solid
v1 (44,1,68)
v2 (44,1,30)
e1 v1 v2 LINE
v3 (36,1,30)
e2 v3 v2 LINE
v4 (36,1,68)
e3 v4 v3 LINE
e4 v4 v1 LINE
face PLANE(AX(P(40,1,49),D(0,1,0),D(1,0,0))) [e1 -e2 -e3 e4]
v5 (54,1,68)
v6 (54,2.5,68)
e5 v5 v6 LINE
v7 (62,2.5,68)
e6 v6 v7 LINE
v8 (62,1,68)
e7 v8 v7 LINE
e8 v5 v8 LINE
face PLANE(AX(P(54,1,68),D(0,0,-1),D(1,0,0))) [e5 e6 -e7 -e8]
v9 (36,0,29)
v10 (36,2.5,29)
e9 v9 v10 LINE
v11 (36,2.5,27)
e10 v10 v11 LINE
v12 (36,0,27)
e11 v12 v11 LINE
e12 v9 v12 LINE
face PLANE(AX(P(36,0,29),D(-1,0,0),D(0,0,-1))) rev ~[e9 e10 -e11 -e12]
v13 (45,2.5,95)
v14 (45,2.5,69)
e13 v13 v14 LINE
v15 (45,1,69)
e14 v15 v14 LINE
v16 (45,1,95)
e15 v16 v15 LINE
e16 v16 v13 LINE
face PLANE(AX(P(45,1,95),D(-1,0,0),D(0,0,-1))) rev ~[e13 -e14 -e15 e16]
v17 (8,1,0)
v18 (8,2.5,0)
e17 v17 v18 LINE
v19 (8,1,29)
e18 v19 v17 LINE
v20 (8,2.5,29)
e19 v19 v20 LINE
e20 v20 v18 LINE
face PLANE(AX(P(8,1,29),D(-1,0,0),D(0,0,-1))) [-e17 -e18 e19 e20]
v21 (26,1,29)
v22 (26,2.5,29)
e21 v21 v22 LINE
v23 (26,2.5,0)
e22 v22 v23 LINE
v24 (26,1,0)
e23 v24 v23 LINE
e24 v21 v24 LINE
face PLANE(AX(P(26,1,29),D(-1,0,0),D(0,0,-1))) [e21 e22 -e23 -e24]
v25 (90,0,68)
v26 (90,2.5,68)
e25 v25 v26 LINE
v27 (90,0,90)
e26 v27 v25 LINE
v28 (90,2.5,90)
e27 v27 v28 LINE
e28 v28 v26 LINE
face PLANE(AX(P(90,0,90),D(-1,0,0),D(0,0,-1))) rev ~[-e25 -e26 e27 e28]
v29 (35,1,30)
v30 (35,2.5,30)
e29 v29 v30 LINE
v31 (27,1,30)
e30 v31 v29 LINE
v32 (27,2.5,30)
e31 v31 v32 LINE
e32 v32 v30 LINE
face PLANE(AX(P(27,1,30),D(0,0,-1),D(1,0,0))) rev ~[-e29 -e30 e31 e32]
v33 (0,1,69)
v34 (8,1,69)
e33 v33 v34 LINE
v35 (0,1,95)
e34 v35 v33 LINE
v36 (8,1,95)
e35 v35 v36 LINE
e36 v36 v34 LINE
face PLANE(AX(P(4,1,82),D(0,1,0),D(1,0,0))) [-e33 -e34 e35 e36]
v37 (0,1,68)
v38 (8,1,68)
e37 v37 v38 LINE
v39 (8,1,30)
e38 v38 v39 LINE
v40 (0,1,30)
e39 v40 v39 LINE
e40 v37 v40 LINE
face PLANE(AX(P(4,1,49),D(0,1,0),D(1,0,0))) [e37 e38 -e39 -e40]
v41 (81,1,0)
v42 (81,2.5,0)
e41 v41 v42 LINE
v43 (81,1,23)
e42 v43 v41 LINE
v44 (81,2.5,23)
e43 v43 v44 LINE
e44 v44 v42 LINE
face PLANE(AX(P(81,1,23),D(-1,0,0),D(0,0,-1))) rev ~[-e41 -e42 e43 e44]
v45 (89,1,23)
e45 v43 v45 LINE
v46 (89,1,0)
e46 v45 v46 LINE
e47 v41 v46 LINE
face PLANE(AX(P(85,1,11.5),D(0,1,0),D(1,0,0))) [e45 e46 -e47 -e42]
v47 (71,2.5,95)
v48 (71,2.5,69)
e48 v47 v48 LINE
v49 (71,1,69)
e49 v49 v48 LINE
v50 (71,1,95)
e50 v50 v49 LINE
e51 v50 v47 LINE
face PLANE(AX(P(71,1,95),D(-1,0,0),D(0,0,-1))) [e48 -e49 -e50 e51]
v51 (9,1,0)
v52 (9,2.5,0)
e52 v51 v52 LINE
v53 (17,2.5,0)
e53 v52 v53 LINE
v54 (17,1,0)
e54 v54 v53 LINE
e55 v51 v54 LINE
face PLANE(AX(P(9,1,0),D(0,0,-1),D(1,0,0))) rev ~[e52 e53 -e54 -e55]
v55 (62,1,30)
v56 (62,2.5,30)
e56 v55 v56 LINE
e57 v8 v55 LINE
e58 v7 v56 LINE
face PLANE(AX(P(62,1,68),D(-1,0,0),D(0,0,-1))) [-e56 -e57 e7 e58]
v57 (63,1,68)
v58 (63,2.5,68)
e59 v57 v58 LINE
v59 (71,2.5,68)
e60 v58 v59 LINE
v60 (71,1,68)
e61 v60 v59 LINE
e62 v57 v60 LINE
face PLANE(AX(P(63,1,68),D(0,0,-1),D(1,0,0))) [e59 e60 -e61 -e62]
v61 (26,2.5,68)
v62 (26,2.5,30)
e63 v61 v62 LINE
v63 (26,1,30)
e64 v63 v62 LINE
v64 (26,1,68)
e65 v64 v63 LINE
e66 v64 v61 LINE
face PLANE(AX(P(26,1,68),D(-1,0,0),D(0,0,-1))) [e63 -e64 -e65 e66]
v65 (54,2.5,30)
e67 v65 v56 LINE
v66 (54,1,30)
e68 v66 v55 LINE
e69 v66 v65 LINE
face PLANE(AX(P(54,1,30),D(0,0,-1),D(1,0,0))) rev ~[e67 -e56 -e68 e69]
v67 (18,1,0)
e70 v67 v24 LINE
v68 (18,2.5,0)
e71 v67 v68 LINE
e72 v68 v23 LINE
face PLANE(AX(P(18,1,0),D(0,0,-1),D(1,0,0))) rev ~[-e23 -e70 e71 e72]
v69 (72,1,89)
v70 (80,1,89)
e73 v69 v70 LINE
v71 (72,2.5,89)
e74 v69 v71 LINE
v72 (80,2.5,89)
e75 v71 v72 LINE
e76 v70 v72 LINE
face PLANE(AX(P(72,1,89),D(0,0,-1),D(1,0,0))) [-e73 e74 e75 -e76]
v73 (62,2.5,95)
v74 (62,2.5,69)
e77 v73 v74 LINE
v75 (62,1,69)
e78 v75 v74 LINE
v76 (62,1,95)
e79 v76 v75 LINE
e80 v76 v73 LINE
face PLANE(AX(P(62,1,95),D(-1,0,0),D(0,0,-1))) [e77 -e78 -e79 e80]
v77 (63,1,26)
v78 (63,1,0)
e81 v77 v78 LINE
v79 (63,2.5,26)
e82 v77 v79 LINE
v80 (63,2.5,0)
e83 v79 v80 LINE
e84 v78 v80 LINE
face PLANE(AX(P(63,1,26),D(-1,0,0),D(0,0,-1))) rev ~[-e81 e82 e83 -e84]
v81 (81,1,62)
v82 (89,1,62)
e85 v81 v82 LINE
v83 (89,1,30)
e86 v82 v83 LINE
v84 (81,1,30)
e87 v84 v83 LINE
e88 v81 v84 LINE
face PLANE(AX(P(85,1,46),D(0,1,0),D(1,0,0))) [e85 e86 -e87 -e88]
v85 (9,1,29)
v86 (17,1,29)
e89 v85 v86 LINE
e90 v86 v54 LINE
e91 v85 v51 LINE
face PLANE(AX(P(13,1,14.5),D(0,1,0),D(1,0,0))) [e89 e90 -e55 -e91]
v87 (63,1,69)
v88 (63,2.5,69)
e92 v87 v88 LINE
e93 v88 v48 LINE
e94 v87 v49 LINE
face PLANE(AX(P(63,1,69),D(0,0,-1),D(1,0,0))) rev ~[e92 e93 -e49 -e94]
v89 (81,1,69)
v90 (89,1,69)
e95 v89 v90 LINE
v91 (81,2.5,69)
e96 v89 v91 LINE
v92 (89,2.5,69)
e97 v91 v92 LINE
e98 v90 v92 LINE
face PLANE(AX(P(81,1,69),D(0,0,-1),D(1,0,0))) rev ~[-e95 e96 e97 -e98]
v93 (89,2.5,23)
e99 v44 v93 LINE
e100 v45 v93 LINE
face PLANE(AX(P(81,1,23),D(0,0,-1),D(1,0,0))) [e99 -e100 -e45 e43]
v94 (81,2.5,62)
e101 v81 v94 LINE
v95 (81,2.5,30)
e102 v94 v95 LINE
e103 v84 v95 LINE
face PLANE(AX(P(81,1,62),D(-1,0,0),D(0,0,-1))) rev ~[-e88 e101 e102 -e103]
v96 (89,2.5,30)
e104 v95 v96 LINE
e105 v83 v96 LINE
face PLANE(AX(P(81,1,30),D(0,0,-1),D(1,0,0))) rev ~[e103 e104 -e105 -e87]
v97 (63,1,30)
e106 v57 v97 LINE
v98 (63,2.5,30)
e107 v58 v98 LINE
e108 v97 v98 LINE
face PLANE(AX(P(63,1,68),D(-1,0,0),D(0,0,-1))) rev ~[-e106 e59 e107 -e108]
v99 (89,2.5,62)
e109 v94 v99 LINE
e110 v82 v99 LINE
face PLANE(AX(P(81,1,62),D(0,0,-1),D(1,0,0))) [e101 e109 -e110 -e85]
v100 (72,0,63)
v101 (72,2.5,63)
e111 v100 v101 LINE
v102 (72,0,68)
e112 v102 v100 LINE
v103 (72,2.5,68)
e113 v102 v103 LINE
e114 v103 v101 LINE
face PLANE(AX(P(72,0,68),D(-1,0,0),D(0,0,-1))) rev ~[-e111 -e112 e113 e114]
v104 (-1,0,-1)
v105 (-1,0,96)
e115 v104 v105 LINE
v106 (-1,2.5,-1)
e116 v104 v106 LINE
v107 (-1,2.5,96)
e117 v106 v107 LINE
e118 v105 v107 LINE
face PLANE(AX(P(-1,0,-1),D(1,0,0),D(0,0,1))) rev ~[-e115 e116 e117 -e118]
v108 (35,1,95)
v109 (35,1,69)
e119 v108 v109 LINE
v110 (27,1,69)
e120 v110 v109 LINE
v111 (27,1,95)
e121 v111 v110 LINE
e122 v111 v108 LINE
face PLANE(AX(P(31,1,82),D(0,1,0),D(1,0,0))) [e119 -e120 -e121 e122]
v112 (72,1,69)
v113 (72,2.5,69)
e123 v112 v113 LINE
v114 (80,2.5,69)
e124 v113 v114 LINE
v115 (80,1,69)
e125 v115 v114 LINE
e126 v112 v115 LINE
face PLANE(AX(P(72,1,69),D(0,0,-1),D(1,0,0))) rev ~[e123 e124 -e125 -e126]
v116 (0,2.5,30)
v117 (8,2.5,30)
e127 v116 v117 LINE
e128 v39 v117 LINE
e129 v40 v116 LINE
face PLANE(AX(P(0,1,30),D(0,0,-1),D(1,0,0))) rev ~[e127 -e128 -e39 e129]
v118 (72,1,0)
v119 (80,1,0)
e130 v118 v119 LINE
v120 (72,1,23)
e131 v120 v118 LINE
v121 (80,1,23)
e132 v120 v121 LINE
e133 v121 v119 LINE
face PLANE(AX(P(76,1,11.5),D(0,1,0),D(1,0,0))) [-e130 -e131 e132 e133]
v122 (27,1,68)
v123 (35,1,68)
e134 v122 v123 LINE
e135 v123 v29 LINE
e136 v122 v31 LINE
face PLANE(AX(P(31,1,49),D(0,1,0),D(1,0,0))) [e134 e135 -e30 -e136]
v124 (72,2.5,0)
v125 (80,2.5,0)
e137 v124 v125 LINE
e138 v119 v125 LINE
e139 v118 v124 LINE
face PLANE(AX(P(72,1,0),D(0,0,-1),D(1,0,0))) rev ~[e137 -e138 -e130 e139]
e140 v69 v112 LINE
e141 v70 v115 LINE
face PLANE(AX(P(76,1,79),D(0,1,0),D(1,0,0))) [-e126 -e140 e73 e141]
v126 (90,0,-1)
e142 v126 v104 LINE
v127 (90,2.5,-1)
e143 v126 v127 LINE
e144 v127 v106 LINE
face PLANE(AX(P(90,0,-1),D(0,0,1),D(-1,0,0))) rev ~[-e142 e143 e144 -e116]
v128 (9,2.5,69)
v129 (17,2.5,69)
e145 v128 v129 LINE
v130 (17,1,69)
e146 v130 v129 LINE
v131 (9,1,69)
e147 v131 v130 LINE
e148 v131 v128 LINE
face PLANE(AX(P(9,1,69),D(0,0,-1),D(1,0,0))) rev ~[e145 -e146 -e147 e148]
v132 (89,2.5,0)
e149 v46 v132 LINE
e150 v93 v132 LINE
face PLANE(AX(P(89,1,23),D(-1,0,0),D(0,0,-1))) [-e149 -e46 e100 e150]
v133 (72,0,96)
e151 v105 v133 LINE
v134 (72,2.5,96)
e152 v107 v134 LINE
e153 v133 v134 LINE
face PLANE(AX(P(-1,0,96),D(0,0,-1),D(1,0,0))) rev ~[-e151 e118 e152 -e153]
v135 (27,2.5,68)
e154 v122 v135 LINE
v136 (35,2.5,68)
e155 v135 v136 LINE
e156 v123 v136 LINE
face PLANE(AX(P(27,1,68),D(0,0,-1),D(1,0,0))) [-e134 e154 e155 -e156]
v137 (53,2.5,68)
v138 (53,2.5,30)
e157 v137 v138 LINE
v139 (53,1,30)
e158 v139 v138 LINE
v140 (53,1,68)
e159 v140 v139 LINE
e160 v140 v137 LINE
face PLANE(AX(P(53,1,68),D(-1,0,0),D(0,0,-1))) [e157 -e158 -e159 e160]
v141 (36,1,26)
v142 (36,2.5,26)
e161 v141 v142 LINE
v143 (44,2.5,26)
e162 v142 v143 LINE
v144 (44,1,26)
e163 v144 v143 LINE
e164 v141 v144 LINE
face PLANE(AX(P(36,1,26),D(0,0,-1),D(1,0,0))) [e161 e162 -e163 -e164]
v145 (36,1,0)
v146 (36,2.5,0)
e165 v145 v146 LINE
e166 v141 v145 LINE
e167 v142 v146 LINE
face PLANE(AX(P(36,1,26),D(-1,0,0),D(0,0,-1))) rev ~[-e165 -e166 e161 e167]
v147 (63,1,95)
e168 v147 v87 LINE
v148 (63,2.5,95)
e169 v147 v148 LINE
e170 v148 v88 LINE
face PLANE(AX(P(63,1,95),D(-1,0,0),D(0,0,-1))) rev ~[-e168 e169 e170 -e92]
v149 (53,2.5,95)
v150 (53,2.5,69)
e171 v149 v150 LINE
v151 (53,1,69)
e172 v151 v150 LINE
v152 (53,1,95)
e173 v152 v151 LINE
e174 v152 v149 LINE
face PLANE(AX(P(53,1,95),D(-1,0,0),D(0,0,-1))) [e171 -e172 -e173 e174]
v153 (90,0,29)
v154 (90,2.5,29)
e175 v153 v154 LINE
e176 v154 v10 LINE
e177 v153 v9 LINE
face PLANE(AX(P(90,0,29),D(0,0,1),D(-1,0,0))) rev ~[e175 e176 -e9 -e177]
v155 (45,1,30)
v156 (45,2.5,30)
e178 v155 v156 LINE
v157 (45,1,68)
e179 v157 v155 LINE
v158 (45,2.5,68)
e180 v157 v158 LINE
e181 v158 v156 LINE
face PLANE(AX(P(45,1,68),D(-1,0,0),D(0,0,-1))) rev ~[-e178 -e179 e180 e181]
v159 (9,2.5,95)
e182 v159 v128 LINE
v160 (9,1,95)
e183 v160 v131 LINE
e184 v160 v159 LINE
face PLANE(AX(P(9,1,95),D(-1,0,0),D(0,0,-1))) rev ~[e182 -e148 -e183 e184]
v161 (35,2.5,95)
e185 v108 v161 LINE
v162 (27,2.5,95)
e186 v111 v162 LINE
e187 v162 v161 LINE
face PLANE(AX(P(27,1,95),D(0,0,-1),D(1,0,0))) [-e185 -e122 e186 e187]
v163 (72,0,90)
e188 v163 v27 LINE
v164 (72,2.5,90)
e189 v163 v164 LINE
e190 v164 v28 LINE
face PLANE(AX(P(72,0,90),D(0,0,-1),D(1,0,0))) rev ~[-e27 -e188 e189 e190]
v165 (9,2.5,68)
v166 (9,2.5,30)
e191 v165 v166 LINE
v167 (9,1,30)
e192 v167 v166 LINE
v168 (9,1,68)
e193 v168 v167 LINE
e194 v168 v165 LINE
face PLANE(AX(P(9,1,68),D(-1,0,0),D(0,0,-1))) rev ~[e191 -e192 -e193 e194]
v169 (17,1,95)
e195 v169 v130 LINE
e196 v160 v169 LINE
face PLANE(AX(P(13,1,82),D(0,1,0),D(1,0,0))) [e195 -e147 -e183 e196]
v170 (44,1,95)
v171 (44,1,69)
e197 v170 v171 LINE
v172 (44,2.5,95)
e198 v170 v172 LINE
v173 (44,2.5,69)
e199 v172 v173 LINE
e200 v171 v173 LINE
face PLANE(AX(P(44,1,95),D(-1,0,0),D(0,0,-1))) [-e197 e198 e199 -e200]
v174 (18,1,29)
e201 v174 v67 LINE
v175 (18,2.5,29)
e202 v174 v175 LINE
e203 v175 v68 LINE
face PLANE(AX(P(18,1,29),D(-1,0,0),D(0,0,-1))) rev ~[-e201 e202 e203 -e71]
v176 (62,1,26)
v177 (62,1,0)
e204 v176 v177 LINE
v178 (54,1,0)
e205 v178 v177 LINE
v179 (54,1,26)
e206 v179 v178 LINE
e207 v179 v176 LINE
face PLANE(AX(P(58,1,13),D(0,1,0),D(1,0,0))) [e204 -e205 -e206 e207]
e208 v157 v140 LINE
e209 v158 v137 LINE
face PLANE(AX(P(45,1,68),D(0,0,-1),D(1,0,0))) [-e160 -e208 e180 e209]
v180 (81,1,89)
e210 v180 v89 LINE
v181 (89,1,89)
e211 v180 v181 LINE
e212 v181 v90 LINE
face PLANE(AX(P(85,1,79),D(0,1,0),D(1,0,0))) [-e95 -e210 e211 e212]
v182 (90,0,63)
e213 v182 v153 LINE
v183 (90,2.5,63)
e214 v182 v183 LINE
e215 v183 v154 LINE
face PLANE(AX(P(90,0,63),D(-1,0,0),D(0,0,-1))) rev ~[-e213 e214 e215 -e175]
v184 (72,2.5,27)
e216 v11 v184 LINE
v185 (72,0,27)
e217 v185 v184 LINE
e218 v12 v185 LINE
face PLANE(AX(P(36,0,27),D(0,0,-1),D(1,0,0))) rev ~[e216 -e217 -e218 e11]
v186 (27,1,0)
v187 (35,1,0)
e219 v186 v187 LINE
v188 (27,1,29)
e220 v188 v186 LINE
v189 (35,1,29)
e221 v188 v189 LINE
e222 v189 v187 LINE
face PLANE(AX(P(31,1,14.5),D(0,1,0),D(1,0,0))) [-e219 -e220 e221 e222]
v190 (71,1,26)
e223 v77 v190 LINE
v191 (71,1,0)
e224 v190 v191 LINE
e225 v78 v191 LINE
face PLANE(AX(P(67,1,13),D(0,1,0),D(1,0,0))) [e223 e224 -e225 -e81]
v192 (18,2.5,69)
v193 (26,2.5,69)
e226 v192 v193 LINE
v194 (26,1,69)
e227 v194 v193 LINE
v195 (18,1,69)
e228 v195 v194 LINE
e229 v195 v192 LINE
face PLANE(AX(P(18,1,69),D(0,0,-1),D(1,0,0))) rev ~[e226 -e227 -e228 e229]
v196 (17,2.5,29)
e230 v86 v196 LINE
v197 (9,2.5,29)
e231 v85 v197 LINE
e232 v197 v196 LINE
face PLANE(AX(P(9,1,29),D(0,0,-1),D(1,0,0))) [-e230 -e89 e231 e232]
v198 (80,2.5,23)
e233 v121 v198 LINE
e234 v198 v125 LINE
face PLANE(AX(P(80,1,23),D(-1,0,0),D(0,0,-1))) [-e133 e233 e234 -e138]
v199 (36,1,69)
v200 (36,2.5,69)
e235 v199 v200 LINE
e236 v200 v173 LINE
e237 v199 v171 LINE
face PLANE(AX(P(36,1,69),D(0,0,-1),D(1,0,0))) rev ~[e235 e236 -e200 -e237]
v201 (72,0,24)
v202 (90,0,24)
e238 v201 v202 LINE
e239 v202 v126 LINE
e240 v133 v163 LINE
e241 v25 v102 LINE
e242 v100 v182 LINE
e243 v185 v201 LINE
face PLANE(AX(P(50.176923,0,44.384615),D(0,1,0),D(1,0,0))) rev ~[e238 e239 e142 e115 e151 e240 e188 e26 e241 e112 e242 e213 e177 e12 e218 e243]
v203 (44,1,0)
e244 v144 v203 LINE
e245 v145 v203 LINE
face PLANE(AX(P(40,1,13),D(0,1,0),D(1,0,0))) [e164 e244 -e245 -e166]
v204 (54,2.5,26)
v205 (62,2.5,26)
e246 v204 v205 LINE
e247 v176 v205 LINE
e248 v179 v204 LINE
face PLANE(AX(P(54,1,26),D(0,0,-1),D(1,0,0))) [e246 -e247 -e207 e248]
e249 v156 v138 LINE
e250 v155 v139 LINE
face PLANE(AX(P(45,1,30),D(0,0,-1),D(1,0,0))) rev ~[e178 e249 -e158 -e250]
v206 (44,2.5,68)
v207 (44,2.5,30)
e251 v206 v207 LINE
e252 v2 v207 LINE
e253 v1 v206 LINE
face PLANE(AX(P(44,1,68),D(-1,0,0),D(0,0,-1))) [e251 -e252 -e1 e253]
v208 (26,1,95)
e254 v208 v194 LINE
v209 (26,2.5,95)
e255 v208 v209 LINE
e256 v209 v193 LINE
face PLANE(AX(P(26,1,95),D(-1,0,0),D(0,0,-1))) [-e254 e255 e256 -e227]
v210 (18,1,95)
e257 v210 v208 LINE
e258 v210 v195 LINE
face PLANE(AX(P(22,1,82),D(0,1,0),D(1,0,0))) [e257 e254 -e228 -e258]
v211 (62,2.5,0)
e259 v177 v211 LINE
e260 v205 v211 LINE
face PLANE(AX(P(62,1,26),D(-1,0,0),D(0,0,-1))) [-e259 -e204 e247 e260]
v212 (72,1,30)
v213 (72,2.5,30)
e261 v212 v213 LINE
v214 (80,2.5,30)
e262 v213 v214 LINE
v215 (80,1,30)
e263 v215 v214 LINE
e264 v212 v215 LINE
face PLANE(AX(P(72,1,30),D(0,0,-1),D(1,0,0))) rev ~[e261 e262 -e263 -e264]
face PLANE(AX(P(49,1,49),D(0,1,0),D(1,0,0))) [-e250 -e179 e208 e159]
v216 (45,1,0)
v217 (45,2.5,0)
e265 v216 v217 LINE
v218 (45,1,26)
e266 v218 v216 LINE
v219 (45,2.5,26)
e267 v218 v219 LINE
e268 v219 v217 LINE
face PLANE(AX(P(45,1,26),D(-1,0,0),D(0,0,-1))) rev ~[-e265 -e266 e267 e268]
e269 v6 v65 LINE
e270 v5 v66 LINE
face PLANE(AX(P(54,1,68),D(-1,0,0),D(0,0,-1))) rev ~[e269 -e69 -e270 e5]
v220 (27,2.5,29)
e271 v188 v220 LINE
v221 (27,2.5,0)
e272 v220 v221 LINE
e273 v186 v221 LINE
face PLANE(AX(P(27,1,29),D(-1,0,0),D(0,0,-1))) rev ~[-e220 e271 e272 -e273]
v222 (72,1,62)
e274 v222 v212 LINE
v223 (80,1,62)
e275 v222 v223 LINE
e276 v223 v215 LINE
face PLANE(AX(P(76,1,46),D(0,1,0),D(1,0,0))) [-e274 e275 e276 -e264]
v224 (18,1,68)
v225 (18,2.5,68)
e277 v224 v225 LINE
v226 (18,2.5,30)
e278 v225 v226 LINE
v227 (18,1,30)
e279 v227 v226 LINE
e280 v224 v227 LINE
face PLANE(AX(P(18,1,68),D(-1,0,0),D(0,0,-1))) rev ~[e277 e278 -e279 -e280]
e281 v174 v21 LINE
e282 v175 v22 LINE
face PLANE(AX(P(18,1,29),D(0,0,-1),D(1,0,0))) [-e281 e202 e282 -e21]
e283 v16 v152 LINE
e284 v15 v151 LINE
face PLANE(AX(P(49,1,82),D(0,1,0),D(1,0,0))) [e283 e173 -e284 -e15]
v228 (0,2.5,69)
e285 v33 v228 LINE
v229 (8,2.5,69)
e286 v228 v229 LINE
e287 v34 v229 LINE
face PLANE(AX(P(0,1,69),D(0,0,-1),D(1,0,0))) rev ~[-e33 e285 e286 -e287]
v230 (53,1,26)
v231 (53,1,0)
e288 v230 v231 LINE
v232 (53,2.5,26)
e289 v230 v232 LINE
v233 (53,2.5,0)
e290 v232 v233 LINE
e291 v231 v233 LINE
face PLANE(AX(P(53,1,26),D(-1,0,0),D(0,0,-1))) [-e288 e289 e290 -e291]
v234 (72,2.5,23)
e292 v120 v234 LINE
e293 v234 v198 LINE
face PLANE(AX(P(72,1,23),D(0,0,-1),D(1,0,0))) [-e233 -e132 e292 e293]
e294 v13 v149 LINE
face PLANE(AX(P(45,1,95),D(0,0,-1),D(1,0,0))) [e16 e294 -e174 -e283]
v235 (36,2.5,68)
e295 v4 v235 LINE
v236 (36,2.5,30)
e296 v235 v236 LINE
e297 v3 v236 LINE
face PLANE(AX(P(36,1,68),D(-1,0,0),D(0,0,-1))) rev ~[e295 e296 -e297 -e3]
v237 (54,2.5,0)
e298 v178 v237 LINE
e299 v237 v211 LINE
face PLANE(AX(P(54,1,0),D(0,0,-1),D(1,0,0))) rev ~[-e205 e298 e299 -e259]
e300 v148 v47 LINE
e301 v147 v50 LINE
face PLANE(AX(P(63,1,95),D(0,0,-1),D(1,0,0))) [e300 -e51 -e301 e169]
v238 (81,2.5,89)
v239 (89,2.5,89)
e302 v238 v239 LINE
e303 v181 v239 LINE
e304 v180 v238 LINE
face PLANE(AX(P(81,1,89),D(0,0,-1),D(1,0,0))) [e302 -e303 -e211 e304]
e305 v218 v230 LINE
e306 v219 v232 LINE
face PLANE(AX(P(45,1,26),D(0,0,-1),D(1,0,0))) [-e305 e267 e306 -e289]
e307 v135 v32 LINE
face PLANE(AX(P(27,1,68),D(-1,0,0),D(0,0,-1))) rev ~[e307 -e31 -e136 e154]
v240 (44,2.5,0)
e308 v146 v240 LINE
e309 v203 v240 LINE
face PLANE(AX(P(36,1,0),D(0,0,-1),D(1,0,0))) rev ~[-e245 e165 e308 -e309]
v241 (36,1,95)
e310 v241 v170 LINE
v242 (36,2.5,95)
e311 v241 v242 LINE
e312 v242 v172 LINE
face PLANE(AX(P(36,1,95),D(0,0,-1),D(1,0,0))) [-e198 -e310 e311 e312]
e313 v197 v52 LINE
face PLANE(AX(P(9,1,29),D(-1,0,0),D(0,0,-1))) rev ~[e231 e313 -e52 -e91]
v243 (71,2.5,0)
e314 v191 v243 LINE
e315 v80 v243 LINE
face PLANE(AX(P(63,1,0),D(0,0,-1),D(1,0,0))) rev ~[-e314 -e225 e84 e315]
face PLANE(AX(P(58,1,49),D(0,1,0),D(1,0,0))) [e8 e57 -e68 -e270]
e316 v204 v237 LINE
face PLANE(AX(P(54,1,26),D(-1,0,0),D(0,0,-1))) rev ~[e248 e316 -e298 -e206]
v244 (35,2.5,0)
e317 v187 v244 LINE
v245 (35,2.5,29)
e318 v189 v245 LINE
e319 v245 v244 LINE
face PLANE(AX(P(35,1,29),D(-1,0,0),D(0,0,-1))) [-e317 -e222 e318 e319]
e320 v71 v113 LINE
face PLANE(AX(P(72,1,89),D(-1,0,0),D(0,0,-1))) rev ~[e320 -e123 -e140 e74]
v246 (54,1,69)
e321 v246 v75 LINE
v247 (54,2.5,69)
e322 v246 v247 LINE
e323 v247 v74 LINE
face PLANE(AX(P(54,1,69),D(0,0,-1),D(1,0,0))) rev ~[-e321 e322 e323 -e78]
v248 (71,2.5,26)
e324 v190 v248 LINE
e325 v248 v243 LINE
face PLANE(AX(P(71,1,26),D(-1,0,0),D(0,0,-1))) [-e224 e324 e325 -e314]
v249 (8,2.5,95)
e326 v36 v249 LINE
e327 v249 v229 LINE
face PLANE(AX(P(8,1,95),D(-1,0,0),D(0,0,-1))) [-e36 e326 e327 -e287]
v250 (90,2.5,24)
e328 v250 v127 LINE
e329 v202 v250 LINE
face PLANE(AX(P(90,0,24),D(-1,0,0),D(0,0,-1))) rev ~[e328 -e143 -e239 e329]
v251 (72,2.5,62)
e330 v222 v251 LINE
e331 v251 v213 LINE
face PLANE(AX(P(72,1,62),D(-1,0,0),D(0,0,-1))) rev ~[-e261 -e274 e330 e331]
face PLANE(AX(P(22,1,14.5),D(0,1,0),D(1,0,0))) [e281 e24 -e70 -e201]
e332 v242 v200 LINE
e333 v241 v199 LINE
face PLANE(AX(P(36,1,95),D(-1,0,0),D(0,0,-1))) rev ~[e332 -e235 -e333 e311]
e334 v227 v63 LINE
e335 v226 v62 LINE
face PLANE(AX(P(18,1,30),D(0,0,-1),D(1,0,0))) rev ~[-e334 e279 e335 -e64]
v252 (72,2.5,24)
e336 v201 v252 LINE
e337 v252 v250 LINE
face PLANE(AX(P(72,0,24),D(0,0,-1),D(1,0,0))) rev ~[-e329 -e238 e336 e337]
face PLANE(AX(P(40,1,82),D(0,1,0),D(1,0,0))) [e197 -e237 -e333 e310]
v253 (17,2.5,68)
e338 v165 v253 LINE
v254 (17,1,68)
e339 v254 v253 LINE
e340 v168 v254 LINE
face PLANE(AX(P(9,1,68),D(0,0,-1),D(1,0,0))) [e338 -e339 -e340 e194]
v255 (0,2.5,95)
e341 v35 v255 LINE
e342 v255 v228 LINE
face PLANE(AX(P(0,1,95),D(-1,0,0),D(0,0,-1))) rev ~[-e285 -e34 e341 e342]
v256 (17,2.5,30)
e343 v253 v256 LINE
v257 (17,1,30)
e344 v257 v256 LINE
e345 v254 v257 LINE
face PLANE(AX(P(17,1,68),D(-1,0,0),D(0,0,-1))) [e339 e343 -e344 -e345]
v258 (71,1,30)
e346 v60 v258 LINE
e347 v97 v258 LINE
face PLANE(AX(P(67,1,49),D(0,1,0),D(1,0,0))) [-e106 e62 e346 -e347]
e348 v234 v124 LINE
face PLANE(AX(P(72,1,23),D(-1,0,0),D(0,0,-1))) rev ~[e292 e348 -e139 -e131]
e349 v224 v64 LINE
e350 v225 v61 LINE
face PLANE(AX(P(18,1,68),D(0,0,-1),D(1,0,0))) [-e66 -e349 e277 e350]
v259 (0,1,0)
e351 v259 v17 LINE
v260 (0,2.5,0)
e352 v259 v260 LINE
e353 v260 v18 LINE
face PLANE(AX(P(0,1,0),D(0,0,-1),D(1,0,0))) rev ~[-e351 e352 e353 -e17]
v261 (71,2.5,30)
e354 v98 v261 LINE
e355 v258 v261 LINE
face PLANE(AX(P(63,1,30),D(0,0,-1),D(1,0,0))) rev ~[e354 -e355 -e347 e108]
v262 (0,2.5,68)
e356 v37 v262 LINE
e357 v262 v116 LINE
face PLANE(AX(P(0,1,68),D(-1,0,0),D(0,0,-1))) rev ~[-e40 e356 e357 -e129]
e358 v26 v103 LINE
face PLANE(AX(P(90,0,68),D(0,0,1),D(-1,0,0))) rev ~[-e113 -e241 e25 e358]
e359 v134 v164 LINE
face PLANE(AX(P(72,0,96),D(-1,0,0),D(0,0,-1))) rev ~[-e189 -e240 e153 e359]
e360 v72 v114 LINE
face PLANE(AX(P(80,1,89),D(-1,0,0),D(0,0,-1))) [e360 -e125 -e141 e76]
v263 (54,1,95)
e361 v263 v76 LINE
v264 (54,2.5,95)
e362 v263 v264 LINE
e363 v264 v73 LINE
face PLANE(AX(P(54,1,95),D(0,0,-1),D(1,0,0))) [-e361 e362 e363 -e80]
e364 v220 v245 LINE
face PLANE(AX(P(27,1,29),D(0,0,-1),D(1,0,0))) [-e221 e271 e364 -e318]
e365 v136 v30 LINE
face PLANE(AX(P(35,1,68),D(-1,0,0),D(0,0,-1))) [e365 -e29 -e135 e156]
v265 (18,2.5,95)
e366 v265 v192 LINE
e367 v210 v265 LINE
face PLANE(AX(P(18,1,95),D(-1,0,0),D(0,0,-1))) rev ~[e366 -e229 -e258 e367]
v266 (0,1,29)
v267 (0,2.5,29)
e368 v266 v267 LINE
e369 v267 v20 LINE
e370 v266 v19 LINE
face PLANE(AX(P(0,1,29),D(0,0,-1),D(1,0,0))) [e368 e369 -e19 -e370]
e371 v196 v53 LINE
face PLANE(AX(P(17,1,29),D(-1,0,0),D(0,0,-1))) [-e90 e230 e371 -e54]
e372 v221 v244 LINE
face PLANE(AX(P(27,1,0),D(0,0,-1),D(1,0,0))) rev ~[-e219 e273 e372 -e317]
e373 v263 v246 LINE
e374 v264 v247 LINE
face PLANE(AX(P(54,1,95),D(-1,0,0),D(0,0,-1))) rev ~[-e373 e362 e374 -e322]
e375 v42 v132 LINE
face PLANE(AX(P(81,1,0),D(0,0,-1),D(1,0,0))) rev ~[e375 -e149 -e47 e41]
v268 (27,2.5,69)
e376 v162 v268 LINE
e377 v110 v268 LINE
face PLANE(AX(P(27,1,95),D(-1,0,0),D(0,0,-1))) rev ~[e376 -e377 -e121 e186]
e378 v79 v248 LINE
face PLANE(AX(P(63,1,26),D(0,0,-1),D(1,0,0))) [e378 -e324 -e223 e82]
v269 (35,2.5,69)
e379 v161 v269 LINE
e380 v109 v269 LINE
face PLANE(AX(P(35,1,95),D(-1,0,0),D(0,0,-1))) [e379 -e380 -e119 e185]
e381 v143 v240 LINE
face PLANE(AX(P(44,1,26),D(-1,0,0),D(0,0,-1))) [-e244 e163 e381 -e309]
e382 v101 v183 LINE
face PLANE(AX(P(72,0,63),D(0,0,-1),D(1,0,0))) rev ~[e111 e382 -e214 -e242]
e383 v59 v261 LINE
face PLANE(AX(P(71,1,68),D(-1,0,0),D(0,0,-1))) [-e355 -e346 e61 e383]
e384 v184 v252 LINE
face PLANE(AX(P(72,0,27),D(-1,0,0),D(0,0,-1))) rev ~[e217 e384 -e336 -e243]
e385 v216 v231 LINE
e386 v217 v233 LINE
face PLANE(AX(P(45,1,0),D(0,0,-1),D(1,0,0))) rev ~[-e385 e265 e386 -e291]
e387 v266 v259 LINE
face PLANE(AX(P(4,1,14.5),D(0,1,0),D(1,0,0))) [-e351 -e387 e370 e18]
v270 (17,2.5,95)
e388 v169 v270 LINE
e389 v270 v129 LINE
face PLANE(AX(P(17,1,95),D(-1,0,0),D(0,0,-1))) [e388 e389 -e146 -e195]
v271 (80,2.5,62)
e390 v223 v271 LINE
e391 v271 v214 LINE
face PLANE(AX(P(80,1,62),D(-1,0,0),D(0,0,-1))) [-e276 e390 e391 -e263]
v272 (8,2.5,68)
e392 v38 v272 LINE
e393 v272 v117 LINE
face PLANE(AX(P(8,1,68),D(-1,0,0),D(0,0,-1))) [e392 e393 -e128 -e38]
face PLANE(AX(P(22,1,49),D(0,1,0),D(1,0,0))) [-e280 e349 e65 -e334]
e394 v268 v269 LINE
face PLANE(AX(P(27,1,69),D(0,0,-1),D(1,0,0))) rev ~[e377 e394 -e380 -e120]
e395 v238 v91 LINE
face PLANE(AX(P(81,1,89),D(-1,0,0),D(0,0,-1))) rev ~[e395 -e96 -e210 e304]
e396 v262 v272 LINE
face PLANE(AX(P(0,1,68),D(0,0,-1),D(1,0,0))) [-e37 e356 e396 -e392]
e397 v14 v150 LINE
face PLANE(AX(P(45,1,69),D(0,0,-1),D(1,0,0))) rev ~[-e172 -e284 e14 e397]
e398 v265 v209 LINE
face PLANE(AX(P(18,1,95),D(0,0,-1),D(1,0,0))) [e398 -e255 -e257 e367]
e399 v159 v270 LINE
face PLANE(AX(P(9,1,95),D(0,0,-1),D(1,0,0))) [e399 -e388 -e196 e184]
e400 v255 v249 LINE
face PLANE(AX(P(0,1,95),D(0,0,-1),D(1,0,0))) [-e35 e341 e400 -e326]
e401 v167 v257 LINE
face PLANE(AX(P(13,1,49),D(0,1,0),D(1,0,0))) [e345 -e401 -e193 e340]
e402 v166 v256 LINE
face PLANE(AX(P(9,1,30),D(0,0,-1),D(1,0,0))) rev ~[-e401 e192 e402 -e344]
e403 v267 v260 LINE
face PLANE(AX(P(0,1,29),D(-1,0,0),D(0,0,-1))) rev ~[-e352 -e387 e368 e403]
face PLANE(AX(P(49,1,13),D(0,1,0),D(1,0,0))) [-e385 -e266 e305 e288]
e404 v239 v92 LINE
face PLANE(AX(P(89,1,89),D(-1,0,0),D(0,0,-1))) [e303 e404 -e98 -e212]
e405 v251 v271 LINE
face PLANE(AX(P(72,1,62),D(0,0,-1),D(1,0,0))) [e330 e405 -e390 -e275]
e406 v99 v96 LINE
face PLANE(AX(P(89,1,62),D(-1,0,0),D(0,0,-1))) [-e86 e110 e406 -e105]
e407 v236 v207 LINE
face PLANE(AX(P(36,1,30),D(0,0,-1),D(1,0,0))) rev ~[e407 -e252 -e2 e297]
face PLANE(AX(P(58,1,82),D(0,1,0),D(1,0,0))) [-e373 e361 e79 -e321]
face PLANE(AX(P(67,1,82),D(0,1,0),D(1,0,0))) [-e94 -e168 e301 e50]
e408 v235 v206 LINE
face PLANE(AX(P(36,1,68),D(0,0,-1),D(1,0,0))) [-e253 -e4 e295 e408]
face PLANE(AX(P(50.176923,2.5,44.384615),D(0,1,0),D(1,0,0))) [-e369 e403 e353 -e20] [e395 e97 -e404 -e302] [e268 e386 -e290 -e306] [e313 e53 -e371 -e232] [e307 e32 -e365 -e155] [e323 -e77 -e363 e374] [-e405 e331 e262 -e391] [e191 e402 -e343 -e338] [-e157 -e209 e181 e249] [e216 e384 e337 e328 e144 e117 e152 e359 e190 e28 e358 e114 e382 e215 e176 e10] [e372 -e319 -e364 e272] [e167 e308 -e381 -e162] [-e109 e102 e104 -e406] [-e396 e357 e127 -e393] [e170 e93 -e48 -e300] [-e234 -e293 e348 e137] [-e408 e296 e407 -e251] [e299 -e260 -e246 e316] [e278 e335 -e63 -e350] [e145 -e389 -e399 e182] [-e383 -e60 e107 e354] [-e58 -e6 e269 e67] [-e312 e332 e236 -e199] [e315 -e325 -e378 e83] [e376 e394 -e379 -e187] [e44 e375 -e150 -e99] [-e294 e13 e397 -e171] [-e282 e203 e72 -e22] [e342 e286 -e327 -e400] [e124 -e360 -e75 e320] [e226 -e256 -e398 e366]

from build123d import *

# Parameters (mm, degrees)
EXTRUDE_2_DEPTH     = 2.5
CUT_EXTRUDE_START   = 1
SKETCH_2_W          = 8
SKETCH_2_H          = 29
SKETCH_2_H_2        = 26
SKETCH_2_H_3        = 38
SKETCH_2_H_4        = 23
SKETCH_2_H_5        = 32
SKETCH_2_H_6        = 20
CUT_EXTRUDE_2_DEPTH = 1.5


with BuildPart() as part:
    # 草图3 → 凸台-拉伸2 (new body)
    with BuildSketch(Plane(origin=(0, 0, 0), x_dir=(1, 0, 0), z_dir=(0, 1, 0))):
        Polygon((90, 1), (-1, 1), (-1, -96), (72, -96), (72, -90), (90, -90), (90, -68), (72, -68), (72, -63), (90, -63), (90, -29), (72, -29), (36, -29), (36, -27), (72, -27), (72, -24), (90, -24), align=None)
    extrude(amount=EXTRUDE_2_DEPTH)

    # 草图2 → 切除-拉伸2 (cut)
    with BuildSketch(Plane(origin=(0, 0, 0), x_dir=(1, 0, 0), z_dir=(0, 1, 0)).offset(CUT_EXTRUDE_START)):
        with Locations((4, -14.5)):
            Rectangle(SKETCH_2_W, SKETCH_2_H)
        with Locations((13, -14.5)):
            Rectangle(SKETCH_2_W, SKETCH_2_H)
        with Locations((22, -14.5)):
            Rectangle(SKETCH_2_W, SKETCH_2_H)
        with Locations((31, -14.5)):
            Rectangle(SKETCH_2_W, SKETCH_2_H)
        with Locations((40, -13)):
            Rectangle(SKETCH_2_W, SKETCH_2_H_2)
        with Locations((4, -49)):
            Rectangle(SKETCH_2_W, SKETCH_2_H_3)
        with Locations((4, -82)):
            Rectangle(SKETCH_2_W, SKETCH_2_H_2)
        with Locations((49, -13)):
            Rectangle(SKETCH_2_W, SKETCH_2_H_2)
        with Locations((58, -13)):
            Rectangle(SKETCH_2_W, SKETCH_2_H_2)
        with Locations((67, -13)):
            Rectangle(SKETCH_2_W, SKETCH_2_H_2)
        with Locations((76, -11.5)):
            Rectangle(SKETCH_2_W, SKETCH_2_H_4)
        with Locations((85, -11.5)):
            Rectangle(SKETCH_2_W, SKETCH_2_H_4)
        with Locations((13, -49)):
            Rectangle(SKETCH_2_W, SKETCH_2_H_3)
        with Locations((22, -49)):
            Rectangle(SKETCH_2_W, SKETCH_2_H_3)
        with Locations((31, -49)):
            Rectangle(SKETCH_2_W, SKETCH_2_H_3)
        with Locations((40, -49)):
            Rectangle(SKETCH_2_W, SKETCH_2_H_3)
        with Locations((49, -49)):
            Rectangle(SKETCH_2_W, SKETCH_2_H_3)
        with Locations((58, -49)):
            Rectangle(SKETCH_2_W, SKETCH_2_H_3)
        with Locations((67, -49)):
            Rectangle(SKETCH_2_W, SKETCH_2_H_3)
        with Locations((76, -46)):
            Rectangle(SKETCH_2_W, SKETCH_2_H_5)
        with Locations((85, -46)):
            Rectangle(SKETCH_2_W, SKETCH_2_H_5)
        with Locations((13, -82)):
            Rectangle(SKETCH_2_W, SKETCH_2_H_2)
        with Locations((22, -82)):
            Rectangle(SKETCH_2_W, SKETCH_2_H_2)
        with Locations((31, -82)):
            Rectangle(SKETCH_2_W, SKETCH_2_H_2)
        with Locations((40, -82)):
            Rectangle(SKETCH_2_W, SKETCH_2_H_2)
        with Locations((49, -82)):
            Rectangle(SKETCH_2_W, SKETCH_2_H_2)
        with Locations((58, -82)):
            Rectangle(SKETCH_2_W, SKETCH_2_H_2)
        with Locations((67, -82)):
            Rectangle(SKETCH_2_W, SKETCH_2_H_2)
        with Locations((76, -79)):
            Rectangle(SKETCH_2_W, SKETCH_2_H_6)
        with Locations((85, -79)):
            Rectangle(SKETCH_2_W, SKETCH_2_H_6)
    extrude(amount=CUT_EXTRUDE_2_DEPTH, mode=Mode.SUBTRACT)


solid = part.part
